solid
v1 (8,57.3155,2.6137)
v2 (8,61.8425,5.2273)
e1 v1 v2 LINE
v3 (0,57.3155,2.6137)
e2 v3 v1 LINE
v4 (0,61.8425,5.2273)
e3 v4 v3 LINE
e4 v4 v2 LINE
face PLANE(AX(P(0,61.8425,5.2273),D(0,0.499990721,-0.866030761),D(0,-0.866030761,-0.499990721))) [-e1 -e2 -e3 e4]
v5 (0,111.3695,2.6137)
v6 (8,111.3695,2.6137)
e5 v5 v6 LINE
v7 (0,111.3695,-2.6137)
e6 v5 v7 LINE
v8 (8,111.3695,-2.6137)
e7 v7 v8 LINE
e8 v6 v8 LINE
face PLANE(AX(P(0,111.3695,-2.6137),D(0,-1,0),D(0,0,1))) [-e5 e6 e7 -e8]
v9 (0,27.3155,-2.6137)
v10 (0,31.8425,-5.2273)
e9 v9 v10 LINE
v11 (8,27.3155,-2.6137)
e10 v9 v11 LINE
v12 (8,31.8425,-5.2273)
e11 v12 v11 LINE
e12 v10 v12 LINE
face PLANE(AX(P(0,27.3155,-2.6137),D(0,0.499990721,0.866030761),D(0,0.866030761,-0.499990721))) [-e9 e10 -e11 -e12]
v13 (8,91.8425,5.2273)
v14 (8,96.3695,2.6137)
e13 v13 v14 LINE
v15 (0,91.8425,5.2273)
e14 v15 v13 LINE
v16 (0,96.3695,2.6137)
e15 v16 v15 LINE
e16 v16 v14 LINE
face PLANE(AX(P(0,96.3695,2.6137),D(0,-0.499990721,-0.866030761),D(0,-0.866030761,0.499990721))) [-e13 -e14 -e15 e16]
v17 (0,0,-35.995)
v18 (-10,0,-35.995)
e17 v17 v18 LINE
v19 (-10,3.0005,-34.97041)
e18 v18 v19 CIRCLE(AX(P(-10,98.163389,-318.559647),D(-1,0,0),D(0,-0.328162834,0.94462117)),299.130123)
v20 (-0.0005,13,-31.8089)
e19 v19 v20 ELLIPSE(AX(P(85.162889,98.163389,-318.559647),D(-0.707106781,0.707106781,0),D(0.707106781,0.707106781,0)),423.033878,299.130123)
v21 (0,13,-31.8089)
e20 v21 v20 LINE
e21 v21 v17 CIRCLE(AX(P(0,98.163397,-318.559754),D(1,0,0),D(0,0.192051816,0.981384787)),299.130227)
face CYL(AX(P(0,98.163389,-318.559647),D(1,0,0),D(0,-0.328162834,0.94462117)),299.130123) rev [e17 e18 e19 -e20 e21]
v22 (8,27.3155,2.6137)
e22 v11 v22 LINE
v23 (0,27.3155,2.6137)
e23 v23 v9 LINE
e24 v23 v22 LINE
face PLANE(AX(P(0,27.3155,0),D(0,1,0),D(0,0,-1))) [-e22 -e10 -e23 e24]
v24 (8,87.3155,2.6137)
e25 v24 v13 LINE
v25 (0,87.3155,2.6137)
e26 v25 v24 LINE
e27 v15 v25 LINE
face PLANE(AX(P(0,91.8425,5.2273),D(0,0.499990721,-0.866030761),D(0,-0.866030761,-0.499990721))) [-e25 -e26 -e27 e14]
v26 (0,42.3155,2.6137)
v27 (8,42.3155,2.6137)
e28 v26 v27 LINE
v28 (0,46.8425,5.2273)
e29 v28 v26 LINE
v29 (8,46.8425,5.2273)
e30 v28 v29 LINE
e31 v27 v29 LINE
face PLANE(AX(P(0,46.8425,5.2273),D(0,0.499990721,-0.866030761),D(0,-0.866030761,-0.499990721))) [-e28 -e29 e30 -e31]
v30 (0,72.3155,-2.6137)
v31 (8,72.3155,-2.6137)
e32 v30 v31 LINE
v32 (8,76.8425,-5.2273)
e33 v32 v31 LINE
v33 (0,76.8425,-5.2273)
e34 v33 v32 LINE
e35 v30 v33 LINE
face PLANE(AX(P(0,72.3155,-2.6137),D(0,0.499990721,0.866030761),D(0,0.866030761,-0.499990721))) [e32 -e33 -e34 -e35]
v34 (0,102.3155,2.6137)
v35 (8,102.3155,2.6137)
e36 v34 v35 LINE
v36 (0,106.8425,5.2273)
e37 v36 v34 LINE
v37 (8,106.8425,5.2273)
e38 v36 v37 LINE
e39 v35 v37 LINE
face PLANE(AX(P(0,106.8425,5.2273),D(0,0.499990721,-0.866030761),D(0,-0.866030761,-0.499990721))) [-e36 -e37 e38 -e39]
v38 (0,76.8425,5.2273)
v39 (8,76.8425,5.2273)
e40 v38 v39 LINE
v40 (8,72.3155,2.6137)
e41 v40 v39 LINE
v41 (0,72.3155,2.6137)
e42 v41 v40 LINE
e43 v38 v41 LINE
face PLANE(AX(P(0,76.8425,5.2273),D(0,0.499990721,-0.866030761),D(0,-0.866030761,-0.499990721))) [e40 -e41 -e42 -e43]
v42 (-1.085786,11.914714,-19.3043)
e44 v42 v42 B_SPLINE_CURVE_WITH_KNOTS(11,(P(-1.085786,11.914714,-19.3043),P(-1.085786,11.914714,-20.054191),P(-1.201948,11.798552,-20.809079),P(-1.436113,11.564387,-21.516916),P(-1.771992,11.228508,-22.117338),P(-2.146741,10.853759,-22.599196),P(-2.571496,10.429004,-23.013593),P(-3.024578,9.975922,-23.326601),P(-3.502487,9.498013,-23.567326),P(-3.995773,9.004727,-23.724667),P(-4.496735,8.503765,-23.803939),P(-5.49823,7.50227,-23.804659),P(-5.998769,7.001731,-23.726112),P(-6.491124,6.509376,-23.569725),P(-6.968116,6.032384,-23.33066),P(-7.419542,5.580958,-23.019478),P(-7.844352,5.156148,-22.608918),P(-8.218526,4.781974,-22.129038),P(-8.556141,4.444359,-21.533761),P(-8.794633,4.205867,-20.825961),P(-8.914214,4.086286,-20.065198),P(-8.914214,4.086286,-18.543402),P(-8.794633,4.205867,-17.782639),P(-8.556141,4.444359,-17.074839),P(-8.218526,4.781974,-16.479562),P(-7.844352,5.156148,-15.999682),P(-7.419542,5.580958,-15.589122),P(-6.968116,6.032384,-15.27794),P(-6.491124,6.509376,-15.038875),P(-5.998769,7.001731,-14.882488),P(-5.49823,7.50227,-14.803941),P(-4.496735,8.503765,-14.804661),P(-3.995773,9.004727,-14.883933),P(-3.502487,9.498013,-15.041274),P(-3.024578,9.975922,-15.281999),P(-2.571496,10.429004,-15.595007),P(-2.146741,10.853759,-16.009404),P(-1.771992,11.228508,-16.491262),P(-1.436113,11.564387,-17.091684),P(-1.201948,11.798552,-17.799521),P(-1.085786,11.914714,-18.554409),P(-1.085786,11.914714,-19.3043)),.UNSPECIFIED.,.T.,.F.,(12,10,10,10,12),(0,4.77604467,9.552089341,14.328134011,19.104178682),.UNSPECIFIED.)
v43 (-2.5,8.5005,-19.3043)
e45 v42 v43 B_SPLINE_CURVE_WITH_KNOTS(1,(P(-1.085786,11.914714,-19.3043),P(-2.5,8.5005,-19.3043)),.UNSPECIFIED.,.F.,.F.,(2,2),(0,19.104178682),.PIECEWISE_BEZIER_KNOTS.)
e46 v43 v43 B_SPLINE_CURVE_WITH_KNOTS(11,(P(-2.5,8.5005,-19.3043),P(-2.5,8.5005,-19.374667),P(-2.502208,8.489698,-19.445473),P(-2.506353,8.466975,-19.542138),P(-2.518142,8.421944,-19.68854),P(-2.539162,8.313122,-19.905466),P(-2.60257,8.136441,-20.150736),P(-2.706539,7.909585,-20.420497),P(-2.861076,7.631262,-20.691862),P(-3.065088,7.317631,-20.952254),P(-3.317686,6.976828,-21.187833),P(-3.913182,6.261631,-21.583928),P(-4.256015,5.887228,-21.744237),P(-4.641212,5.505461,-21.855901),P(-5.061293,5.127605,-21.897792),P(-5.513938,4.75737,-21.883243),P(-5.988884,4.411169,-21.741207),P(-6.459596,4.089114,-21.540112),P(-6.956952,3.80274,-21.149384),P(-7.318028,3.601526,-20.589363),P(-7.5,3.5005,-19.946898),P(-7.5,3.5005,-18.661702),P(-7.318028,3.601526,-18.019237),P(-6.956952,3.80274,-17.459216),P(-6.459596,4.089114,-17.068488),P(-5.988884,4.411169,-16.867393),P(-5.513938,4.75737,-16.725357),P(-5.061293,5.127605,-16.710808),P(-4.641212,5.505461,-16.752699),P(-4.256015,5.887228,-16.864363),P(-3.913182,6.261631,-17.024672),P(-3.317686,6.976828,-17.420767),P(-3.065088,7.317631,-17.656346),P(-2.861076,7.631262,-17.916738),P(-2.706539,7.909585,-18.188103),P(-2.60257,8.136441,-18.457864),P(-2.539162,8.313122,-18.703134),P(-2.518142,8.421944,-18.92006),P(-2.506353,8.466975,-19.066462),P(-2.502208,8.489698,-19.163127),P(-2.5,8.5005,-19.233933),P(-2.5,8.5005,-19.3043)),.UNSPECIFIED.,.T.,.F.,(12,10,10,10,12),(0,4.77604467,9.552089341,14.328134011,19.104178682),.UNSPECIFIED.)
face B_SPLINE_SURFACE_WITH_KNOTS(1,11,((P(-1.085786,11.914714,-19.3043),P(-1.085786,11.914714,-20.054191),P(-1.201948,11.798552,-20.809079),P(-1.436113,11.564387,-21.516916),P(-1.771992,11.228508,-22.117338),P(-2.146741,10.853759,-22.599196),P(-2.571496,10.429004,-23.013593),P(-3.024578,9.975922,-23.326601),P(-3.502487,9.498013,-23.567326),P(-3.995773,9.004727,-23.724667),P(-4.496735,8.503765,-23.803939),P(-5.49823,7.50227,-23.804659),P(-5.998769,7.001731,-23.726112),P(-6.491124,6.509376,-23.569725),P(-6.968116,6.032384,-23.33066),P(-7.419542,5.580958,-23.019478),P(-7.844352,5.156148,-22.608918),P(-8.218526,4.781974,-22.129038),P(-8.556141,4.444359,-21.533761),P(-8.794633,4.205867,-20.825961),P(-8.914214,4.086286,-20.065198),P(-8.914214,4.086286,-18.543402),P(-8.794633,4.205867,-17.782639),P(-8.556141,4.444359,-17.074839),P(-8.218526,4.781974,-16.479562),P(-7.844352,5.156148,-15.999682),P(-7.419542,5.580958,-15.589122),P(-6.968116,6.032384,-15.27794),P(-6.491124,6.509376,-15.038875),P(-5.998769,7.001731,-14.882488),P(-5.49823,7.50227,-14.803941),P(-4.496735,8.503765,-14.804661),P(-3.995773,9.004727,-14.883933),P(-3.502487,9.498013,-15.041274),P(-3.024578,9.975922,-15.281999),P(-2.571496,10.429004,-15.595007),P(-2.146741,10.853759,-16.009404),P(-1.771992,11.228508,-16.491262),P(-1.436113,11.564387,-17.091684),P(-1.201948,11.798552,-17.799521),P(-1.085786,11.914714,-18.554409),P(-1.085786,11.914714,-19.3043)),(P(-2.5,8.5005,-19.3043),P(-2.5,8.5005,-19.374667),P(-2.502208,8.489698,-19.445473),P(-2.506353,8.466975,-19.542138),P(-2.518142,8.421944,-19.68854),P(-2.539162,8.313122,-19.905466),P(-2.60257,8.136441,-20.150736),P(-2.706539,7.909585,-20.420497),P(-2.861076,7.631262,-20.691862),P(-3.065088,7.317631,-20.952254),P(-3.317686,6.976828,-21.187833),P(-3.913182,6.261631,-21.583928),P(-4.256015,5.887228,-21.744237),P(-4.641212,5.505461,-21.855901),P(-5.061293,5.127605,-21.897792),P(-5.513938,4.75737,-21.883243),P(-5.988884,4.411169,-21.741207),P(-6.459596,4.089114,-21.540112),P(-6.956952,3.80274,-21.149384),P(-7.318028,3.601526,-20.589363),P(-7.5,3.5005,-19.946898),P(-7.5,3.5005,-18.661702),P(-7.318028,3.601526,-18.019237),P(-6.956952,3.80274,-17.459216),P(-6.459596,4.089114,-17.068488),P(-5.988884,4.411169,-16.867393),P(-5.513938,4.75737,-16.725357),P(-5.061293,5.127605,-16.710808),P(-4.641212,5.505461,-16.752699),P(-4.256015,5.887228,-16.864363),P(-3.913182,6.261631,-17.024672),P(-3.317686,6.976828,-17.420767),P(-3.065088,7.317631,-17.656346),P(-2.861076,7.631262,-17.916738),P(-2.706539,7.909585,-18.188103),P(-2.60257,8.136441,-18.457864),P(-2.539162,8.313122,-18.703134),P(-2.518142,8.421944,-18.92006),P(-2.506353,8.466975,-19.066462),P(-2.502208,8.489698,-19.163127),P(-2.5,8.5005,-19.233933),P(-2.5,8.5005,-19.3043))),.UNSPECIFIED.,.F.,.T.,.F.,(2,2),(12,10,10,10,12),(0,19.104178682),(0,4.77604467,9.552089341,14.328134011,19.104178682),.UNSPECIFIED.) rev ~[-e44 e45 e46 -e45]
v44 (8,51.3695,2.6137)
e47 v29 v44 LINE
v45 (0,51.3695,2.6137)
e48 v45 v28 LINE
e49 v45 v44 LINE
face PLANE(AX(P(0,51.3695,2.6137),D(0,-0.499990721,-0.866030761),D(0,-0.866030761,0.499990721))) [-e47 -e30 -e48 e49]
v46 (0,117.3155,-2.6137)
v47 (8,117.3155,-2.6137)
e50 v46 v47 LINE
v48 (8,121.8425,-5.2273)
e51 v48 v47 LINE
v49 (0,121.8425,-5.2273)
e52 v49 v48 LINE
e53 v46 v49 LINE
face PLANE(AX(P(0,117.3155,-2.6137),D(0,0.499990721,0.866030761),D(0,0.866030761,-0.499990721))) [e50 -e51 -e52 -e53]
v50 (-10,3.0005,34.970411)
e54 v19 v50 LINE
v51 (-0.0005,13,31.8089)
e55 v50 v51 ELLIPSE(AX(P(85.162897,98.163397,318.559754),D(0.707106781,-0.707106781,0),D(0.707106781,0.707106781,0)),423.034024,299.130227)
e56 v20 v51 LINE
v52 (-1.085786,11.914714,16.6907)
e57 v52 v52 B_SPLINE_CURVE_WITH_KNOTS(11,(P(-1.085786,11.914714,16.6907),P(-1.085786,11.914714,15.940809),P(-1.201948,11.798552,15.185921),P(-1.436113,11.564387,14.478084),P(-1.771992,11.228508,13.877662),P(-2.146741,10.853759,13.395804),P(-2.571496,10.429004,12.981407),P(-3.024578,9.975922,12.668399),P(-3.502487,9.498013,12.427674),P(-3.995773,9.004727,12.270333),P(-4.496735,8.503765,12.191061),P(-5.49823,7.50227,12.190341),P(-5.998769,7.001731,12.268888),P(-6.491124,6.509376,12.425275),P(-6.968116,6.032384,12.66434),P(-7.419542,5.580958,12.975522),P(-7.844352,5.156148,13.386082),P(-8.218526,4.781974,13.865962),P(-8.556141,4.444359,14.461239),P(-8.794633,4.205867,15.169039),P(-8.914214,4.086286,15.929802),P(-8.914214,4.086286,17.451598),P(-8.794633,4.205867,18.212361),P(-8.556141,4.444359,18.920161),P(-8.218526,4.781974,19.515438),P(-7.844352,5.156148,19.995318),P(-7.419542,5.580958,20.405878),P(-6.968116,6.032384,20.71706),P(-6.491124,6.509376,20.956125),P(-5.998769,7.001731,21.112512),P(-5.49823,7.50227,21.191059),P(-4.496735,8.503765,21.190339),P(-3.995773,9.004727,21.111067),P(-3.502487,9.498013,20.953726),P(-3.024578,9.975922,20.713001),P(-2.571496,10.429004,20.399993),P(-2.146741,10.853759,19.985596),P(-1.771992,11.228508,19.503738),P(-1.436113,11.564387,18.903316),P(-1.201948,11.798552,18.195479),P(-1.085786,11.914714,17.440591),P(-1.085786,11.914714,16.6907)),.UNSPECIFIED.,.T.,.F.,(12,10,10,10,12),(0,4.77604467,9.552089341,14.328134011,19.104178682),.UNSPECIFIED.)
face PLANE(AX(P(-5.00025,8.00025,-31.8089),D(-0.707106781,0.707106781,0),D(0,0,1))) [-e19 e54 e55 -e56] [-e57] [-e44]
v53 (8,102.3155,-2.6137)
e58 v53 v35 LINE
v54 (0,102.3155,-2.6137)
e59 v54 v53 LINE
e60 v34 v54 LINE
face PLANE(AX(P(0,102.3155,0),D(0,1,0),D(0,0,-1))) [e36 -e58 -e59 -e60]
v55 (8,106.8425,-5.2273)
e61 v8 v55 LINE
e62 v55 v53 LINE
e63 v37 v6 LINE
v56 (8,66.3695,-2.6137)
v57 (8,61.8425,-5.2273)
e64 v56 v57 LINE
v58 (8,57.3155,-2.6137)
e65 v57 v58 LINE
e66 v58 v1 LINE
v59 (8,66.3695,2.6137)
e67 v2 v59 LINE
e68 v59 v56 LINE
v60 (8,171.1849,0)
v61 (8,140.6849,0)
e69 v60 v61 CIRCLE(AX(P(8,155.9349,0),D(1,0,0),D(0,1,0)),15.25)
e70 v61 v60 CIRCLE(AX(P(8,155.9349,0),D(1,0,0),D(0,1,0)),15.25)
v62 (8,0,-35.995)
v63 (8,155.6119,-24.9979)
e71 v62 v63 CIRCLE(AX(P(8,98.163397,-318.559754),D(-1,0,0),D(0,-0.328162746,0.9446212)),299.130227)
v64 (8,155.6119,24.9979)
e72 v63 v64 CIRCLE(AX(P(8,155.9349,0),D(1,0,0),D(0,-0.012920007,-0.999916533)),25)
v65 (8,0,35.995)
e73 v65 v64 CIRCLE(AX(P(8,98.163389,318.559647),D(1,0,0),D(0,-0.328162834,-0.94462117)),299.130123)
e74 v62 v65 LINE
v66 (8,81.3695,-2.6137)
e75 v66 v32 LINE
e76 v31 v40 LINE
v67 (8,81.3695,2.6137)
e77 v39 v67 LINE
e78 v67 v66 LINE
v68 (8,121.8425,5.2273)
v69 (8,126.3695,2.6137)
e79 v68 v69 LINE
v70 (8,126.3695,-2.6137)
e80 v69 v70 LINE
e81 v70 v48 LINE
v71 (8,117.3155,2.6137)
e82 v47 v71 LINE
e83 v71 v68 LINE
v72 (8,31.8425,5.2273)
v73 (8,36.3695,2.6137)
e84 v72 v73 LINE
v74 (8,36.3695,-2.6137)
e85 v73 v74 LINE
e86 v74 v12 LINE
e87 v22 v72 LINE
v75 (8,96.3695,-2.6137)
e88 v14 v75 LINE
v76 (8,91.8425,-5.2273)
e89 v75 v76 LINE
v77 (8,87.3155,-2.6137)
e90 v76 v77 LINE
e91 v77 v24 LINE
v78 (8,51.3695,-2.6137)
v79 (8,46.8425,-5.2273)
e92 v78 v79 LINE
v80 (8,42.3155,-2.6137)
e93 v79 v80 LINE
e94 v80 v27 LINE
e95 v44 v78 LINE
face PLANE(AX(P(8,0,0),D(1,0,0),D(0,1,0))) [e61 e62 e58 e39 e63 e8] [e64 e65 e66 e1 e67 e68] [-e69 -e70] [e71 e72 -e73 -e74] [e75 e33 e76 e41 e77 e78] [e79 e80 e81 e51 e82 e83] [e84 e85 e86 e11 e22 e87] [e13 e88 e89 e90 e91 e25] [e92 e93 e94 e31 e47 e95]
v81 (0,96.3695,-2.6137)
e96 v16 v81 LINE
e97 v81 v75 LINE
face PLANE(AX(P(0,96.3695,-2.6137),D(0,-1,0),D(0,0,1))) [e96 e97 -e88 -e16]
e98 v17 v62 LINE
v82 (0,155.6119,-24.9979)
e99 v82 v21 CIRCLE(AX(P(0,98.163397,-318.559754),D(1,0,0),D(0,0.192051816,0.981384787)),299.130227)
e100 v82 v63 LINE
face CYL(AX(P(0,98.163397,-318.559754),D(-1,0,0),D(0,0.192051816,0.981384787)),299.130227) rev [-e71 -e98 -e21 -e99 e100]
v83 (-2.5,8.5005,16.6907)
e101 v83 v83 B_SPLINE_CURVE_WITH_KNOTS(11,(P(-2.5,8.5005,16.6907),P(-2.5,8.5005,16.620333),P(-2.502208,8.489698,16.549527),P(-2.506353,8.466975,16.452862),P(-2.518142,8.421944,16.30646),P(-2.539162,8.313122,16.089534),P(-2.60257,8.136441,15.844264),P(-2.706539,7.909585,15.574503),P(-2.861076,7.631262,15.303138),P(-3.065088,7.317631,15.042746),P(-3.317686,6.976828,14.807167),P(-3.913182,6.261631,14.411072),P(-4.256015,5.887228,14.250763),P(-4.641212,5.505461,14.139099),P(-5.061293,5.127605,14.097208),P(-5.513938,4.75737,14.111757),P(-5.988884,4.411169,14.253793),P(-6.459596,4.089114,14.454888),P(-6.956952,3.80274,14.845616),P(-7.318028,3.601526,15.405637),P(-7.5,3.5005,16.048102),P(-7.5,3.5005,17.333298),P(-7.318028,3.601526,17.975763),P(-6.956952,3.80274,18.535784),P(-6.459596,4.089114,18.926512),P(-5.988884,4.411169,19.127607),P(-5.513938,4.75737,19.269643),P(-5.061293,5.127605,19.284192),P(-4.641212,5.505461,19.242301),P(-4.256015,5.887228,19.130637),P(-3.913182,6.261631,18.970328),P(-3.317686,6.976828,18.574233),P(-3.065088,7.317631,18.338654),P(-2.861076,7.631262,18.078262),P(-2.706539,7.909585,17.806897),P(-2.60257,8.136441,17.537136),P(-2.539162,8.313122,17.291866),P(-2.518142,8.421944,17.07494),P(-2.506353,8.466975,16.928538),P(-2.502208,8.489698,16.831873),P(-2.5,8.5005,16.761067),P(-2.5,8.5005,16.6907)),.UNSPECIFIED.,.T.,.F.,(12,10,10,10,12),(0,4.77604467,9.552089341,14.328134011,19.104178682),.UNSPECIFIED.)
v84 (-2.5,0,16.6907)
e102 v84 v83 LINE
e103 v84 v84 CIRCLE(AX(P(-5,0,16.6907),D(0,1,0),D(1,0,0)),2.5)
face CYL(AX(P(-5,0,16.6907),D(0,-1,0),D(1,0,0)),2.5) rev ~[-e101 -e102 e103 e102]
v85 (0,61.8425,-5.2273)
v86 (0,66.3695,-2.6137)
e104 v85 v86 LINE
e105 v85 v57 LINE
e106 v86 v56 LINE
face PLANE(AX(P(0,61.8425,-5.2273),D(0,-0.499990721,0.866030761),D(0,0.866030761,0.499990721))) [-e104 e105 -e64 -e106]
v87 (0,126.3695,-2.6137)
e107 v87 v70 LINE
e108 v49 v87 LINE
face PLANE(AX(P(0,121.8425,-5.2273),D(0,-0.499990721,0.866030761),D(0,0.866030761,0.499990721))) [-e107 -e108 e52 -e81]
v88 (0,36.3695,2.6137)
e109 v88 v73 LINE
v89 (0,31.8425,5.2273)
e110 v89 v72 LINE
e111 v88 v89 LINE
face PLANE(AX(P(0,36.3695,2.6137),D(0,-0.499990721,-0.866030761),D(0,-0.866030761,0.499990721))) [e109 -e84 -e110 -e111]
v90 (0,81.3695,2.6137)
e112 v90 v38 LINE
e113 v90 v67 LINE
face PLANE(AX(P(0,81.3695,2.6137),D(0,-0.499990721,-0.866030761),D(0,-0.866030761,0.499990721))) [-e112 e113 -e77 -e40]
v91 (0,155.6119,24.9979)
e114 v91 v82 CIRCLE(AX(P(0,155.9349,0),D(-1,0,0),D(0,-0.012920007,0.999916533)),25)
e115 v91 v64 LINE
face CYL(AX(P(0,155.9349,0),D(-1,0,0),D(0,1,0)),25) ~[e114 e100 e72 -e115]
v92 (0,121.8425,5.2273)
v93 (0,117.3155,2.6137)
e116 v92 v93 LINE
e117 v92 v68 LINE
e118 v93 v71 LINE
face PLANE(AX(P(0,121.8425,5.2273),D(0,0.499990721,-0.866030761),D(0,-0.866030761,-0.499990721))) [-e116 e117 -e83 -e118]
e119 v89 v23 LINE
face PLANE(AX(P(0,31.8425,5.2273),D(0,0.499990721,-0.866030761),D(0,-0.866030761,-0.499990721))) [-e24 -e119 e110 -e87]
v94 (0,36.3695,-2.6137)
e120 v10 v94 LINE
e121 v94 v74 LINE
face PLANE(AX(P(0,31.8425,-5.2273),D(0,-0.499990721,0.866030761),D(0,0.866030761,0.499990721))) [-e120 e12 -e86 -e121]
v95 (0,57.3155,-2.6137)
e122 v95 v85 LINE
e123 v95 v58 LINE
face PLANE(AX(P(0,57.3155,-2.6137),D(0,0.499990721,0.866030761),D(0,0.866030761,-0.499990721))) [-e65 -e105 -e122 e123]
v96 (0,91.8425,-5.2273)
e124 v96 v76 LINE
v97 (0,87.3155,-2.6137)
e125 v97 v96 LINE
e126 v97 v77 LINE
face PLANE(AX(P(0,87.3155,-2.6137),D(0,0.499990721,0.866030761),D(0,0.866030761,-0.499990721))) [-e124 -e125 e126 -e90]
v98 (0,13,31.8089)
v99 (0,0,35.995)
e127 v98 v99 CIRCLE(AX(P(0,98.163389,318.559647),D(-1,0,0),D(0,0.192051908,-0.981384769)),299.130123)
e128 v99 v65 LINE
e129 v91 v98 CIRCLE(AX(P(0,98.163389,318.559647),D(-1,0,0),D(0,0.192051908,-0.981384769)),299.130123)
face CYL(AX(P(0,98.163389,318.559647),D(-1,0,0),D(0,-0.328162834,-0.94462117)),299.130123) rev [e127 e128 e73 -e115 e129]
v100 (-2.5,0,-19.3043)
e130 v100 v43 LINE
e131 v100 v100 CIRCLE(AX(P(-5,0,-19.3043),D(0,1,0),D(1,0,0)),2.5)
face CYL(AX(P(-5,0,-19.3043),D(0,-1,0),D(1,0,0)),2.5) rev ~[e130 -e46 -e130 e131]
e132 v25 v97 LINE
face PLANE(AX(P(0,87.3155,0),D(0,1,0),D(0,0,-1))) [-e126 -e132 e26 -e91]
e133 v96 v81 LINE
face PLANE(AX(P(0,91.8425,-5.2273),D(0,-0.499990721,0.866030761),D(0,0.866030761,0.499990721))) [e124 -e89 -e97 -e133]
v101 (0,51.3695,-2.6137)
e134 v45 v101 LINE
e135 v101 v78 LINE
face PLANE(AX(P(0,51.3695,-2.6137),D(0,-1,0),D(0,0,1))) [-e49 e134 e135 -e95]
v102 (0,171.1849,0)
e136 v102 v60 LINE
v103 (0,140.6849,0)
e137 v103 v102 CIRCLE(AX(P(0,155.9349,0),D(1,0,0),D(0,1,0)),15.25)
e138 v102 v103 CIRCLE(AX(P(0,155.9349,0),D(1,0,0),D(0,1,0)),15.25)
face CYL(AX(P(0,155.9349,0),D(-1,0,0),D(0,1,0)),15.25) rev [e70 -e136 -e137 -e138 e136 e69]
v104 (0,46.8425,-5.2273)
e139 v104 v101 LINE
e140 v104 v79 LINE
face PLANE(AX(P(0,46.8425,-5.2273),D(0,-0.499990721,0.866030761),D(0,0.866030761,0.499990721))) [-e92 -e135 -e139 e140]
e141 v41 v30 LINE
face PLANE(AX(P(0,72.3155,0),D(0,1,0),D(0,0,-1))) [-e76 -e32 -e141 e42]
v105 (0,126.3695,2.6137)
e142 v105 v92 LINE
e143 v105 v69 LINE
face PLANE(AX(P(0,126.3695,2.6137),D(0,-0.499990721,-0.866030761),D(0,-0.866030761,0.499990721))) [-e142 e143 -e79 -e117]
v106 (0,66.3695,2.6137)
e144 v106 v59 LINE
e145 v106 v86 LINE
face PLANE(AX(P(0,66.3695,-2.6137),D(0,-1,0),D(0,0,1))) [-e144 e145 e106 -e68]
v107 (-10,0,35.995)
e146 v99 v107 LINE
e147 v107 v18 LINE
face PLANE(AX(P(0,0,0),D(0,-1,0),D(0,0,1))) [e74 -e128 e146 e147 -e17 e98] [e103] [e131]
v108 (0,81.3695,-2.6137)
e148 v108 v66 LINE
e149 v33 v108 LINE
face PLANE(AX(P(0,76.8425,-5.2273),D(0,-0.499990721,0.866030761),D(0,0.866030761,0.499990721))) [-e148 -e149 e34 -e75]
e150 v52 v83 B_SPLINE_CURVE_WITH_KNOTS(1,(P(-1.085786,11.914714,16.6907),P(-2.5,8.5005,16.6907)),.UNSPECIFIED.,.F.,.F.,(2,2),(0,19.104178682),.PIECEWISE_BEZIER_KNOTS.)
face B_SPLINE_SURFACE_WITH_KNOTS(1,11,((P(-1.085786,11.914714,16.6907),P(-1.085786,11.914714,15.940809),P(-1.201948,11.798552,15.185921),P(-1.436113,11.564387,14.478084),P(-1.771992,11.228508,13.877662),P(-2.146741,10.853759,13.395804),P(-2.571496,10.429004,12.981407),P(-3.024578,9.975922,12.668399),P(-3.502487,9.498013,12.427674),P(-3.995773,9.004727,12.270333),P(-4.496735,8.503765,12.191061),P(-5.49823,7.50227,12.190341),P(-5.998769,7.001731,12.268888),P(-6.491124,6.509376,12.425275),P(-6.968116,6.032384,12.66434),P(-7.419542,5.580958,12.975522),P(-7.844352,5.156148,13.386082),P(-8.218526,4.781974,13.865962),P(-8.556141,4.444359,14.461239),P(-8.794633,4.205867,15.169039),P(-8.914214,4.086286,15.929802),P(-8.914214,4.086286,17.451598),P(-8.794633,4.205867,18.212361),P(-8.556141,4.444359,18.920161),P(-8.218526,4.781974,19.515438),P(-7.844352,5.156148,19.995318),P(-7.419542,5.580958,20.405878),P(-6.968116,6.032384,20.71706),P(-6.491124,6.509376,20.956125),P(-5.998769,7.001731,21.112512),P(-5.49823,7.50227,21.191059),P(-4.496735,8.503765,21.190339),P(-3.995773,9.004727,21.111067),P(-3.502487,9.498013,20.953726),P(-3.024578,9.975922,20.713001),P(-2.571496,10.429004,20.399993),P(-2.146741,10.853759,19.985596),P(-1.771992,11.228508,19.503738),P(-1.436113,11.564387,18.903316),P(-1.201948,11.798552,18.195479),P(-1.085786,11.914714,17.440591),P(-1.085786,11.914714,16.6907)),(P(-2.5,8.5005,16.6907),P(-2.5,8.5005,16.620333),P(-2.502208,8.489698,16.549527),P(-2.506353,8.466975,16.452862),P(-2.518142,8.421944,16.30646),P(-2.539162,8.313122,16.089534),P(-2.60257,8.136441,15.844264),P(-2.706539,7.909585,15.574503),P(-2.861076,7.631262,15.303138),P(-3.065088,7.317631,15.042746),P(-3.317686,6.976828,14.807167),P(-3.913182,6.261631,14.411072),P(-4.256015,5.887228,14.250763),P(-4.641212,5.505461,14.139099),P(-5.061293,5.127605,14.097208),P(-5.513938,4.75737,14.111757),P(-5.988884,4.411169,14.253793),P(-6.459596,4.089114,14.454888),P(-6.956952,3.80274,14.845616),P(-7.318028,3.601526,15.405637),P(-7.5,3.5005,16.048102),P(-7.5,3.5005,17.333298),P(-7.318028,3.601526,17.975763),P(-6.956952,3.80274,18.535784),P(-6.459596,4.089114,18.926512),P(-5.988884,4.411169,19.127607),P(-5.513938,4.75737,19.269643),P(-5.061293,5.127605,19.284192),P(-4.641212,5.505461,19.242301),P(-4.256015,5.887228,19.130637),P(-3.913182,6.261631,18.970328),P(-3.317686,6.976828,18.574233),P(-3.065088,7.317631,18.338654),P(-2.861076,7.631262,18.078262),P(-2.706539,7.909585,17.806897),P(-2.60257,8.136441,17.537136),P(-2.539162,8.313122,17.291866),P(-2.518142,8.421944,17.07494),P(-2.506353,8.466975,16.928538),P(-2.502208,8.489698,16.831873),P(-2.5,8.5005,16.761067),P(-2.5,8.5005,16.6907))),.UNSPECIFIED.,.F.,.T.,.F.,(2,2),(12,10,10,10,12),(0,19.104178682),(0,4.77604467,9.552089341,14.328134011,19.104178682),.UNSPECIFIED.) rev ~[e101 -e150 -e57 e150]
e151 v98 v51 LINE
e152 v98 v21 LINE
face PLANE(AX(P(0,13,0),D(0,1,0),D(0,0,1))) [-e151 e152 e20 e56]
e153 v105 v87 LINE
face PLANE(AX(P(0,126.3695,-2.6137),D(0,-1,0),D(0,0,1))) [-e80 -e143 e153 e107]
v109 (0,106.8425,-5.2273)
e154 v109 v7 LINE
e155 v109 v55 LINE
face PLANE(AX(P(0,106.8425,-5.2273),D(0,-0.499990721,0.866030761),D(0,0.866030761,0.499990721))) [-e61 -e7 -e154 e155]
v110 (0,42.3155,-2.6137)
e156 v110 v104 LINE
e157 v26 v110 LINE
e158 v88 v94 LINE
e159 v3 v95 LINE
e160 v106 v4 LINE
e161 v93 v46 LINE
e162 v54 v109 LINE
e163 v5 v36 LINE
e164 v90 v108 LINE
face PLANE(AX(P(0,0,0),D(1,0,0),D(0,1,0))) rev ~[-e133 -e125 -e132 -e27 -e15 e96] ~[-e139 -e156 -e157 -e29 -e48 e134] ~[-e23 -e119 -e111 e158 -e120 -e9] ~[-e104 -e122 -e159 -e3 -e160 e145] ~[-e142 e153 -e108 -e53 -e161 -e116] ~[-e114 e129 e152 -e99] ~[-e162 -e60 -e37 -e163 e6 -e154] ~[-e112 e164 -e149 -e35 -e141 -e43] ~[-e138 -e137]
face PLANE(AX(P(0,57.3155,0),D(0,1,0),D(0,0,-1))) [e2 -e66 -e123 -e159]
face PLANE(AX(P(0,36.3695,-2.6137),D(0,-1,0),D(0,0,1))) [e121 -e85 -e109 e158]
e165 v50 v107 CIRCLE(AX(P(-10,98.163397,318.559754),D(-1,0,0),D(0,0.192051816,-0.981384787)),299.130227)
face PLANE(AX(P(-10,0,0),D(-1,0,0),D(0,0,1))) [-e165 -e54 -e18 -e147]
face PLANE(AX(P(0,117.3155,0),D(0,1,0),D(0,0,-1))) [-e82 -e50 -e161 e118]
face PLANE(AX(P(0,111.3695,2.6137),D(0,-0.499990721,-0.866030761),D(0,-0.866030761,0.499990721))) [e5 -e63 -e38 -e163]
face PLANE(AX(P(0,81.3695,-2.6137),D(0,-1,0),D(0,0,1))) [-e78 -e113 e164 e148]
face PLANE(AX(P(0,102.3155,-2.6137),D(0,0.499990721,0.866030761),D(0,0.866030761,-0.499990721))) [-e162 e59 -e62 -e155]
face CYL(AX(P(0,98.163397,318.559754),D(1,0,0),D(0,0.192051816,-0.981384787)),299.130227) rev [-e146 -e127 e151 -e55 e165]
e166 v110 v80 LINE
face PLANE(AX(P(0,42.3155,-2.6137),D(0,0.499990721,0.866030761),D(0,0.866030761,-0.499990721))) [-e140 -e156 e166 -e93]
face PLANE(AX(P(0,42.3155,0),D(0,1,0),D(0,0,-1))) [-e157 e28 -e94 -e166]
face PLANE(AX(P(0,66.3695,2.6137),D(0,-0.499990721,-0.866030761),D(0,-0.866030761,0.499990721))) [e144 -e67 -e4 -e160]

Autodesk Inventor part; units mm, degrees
ref_plane "YZ Plane" through (0, 0, 0) normal (1, 0, 0) x (0, 1, 0)
ref_plane "XZ Plane" through (0, 0, 0) normal (0, 1, 0) x (-1, 0, 0)
ref_plane "XY Plane" through (0, 0, 0) normal (0, 0, 1) x (1, 0, 0)
sketch "Sketch1" plane through (0, 0, 0) normal (1, 0, 0) x (0, 1, 0)
  line L0 (0, 0) -> (155.9349, 0)
  circle A0 centre (155.9349, 0) radius 15.25
  circle A1 centre (155.9349, 0) radius 25
  line L1 (155.6119, 24.9979) -> (0, 35.995)
  line L2 (0, 0) -> (0, 35.995)
  line L3 (155.6119, -24.9979) -> (0, -35.995)
  line L4 (0, 0) -> (0, -35.995)
  arc A2 (0, 35.995) -> (155.6119, 24.9979) centre (98.1634, 318.5597) ccw
  arc A3 (155.6119, -24.9979) -> (0, -35.995) centre (98.1634, -318.5597) ccw
  point P0 (155.6119, -24.9979)
  dimension "d2" = 50
  dimension "d0" = 155.9349
  dimension "d1" = 30.5
  dimension "d3" = 156
extrude "Extrusion1" add sketch "Sketch1" along normal blind 8 contours L2 A2 A1 L0 | L0 A1 A3 L4 | A1 A2 A3
sketch "Sketch2" plane through (0, 0, 0) normal (-1, 0, 0) x (0, 0, 1)
  arc A0 (24.9979, 155.6119) -> (-24.9979, 155.6119) centre (0, 155.9349) ccw projected
  arc A1 (-35.995, 0) -> (-24.9979, 155.6119) centre (-318.5597, 98.1634) ccw projected
  line L0 (35.995, 0) -> (-35.995, 0) projected
  arc A2 (24.9979, 155.6119) -> (35.995, 0) centre (318.5597, 98.1634) ccw projected
  circle A3 centre (0, 155.9349) radius 15.25 projected
  line L1 (0, 0) -> (0, 13)
  line L2 (0, 13) -> (-31.8089, 13)
  arc A4 (-35.995, 0) -> (-24.9979, 155.6119) centre (-318.5597, 98.1634) ccw projected
  line L3 (0, 13) -> (31.8089, 13)
  arc A5 (24.9979, 155.6119) -> (35.995, 0) centre (318.5597, 98.1634) ccw projected
  point P0 (-31.8089, 13)
  point P1 (31.8089, 13)
  dimension "d6" = 13
extrude "Extrusion2" add sketch "Sketch2" along normal blind 10 contours A2 L0 L1 L3 | L2 L1 L0 A1
chamfer "Chamfer1" distance 10 angle 45 1 edges at (-10, 13, 0)
sketch "Sketch3" plane through (0, 0, 0) normal (-1, 0, 0) x (0, 0, 1)
  line L0 (-31.8089, 13) -> (31.8089, 13) projected
  line L1 (0, 13) -> (0, 140.6849)
  circle A0 centre (0, 155.9349) radius 15.25 projected
  line L2 (-5.2273, 76.8425) -> (-2.6137, 81.3695)
  line L3 (-2.6137, 81.3695) -> (2.6137, 81.3695)
  line L4 (2.6137, 81.3695) -> (5.2273, 76.8425)
  line L5 (5.2273, 76.8425) -> (2.6137, 72.3155)
  line L6 (2.6137, 72.3155) -> (-2.6137, 72.3155)
  line L7 (-2.6137, 72.3155) -> (-5.2273, 76.8425)
  line L8 (-5.2273, 91.8425) -> (-2.6137, 96.3695)
  line L9 (-2.6137, 96.3695) -> (2.6137, 96.3695)
  line L10 (2.6137, 96.3695) -> (5.2273, 91.8425)
  line L11 (5.2273, 91.8425) -> (2.6137, 87.3155)
  line L12 (2.6137, 87.3155) -> (-2.6137, 87.3155)
  line L13 (-2.6137, 87.3155) -> (-5.2273, 91.8425)
  line L14 (-5.2273, 106.8425) -> (-2.6137, 111.3695)
  line L15 (-2.6137, 111.3695) -> (2.6137, 111.3695)
  line L16 (2.6137, 111.3695) -> (5.2273, 106.8425)
  line L17 (5.2273, 106.8425) -> (2.6137, 102.3155)
  line L18 (2.6137, 102.3155) -> (-2.6137, 102.3155)
  line L19 (-2.6137, 102.3155) -> (-5.2273, 106.8425)
  line L20 (-5.2273, 121.8425) -> (-2.6137, 126.3695)
  line L21 (-2.6137, 126.3695) -> (2.6137, 126.3695)
  line L22 (2.6137, 126.3695) -> (5.2273, 121.8425)
  line L23 (5.2273, 121.8425) -> (2.6137, 117.3155)
  line L24 (2.6137, 117.3155) -> (-2.6137, 117.3155)
  line L25 (-2.6137, 117.3155) -> (-5.2273, 121.8425)
  line L26 (-2.6137, 66.3695) -> (2.6137, 66.3695)
  line L27 (-5.2273, 61.8425) -> (-2.6137, 66.3695)
  line L28 (2.6137, 66.3695) -> (5.2273, 61.8425)
  line L29 (-2.6137, 57.3155) -> (-5.2273, 61.8425)
  line L30 (5.2273, 61.8425) -> (2.6137, 57.3155)
  line L31 (2.6137, 57.3155) -> (-2.6137, 57.3155)
  line L32 (-2.6137, 51.3695) -> (2.6137, 51.3695)
  line L33 (-5.2273, 46.8425) -> (-2.6137, 51.3695)
  line L34 (2.6137, 51.3695) -> (5.2273, 46.8425)
  line L35 (-2.6137, 42.3155) -> (-5.2273, 46.8425)
  line L36 (5.2273, 46.8425) -> (2.6137, 42.3155)
  line L37 (2.6137, 42.3155) -> (-2.6137, 42.3155)
  line L38 (-2.6137, 36.3695) -> (2.6137, 36.3695)
  line L39 (-5.2273, 31.8425) -> (-2.6137, 36.3695)
  line L40 (2.6137, 36.3695) -> (5.2273, 31.8425)
  line L41 (-2.6137, 27.3155) -> (-5.2273, 31.8425)
  line L42 (5.2273, 31.8425) -> (2.6137, 27.3155)
  line L43 (2.6137, 27.3155) -> (-2.6137, 27.3155)
  line L44 (0, 76.8425) -> (20.7534, 76.8425)
  point P0 (0, 0)
  point P1 (0, 81.3695)
  point P2 (0, 91.8425)
  point P3 (0, 96.3695)
  point P4 (0, 106.8425)
  point P5 (0, 111.3695)
  point P6 (0, 121.8425)
  point P7 (0, 126.3695)
  point P8 (0, 66.3695)
  point P9 (0, 61.8425)
  point P10 (0, 51.3695)
  point P11 (0, 46.8425)
  point P12 (0, 36.3695)
  point P13 (0, 31.8425)
  dimension "d12" = 9.054
  dimension "d15" = 15
  dimension "d22" = 15
extrude "Extrusion3" cut sketch "Sketch3" against normal blind 12 contours L43 L41 L39 L38 L1 | L1 L38 L40 L42 L43 | L24 L25 L20 L21 L1 | L1 L21 L22 L23 L24 | L18 L19 L14 L15 L1 | L1 L15 L16 L17 L18 | L12 L13 L8 L9 L1 | L1 L9 L10 L11 L12 | L6 L7 L2 L3 L1 | L1 L44 L5 L6 | L31 L29 L27 L26 L1 | L1 L26 L28 L30 L31 | L37 L35 L33 L32 L1 | L1 L32 L34 L36 L37 | L1 L3 L4 L44
sketch "Sketch4" plane through (8, 0, -35.995) normal (0, -1, 0) x (1, 0, 0)
  line L0 (-18, 0) -> (0, 0) projected
  line L1 (0, 71.9901) -> (0, 0) projected
  line L2 (-18, 71.9901) -> (0, 71.9901) projected
  line L3 (-18, 0) -> (-18, 71.9901) projected
  line L4 (-18, 71.9901) -> (-9, 71.9901)
  line L5 (-18, 71.9901) -> (-8, 71.9901)
  line L6 (-8, 0) -> (-8, 71.9901)
  line L7 (-8, 67.8039) -> (-8, 55.4246) projected
  line L8 (-13, 71.9901) -> (-13, 0)
  line L9 (-8, 33.3814) -> (0, 33.3814) projected
  line L10 (0, 33.3814) -> (-18, 33.3814)
  line L11 (-13, 71.9901) -> (-13, 33.3814)
  line L12 (-13, 33.3814) -> (-13, 0)
  circle A0 centre (-13, 16.6907) radius 2.5
  circle A1 centre (-13, 52.6857) radius 2.5
  point P0 (-8, 35.995)
  point P1 (-8, 60.9929)
  dimension "d29" = 5
  dimension "d30" = 5
extrude "Extrusion4" cut sketch "Sketch4" against normal blind 20 contours A0 L8 | L8 A0 | A1 L8 | L8 A1
chamfer "Chamfer2" distance 2 angle 45 2 edges at (-7.5, 5.5005, -19.3043) (-7.5, 5.5005, 16.6907)
properties part number "HolderB" material "Acetal Resin, Black"
